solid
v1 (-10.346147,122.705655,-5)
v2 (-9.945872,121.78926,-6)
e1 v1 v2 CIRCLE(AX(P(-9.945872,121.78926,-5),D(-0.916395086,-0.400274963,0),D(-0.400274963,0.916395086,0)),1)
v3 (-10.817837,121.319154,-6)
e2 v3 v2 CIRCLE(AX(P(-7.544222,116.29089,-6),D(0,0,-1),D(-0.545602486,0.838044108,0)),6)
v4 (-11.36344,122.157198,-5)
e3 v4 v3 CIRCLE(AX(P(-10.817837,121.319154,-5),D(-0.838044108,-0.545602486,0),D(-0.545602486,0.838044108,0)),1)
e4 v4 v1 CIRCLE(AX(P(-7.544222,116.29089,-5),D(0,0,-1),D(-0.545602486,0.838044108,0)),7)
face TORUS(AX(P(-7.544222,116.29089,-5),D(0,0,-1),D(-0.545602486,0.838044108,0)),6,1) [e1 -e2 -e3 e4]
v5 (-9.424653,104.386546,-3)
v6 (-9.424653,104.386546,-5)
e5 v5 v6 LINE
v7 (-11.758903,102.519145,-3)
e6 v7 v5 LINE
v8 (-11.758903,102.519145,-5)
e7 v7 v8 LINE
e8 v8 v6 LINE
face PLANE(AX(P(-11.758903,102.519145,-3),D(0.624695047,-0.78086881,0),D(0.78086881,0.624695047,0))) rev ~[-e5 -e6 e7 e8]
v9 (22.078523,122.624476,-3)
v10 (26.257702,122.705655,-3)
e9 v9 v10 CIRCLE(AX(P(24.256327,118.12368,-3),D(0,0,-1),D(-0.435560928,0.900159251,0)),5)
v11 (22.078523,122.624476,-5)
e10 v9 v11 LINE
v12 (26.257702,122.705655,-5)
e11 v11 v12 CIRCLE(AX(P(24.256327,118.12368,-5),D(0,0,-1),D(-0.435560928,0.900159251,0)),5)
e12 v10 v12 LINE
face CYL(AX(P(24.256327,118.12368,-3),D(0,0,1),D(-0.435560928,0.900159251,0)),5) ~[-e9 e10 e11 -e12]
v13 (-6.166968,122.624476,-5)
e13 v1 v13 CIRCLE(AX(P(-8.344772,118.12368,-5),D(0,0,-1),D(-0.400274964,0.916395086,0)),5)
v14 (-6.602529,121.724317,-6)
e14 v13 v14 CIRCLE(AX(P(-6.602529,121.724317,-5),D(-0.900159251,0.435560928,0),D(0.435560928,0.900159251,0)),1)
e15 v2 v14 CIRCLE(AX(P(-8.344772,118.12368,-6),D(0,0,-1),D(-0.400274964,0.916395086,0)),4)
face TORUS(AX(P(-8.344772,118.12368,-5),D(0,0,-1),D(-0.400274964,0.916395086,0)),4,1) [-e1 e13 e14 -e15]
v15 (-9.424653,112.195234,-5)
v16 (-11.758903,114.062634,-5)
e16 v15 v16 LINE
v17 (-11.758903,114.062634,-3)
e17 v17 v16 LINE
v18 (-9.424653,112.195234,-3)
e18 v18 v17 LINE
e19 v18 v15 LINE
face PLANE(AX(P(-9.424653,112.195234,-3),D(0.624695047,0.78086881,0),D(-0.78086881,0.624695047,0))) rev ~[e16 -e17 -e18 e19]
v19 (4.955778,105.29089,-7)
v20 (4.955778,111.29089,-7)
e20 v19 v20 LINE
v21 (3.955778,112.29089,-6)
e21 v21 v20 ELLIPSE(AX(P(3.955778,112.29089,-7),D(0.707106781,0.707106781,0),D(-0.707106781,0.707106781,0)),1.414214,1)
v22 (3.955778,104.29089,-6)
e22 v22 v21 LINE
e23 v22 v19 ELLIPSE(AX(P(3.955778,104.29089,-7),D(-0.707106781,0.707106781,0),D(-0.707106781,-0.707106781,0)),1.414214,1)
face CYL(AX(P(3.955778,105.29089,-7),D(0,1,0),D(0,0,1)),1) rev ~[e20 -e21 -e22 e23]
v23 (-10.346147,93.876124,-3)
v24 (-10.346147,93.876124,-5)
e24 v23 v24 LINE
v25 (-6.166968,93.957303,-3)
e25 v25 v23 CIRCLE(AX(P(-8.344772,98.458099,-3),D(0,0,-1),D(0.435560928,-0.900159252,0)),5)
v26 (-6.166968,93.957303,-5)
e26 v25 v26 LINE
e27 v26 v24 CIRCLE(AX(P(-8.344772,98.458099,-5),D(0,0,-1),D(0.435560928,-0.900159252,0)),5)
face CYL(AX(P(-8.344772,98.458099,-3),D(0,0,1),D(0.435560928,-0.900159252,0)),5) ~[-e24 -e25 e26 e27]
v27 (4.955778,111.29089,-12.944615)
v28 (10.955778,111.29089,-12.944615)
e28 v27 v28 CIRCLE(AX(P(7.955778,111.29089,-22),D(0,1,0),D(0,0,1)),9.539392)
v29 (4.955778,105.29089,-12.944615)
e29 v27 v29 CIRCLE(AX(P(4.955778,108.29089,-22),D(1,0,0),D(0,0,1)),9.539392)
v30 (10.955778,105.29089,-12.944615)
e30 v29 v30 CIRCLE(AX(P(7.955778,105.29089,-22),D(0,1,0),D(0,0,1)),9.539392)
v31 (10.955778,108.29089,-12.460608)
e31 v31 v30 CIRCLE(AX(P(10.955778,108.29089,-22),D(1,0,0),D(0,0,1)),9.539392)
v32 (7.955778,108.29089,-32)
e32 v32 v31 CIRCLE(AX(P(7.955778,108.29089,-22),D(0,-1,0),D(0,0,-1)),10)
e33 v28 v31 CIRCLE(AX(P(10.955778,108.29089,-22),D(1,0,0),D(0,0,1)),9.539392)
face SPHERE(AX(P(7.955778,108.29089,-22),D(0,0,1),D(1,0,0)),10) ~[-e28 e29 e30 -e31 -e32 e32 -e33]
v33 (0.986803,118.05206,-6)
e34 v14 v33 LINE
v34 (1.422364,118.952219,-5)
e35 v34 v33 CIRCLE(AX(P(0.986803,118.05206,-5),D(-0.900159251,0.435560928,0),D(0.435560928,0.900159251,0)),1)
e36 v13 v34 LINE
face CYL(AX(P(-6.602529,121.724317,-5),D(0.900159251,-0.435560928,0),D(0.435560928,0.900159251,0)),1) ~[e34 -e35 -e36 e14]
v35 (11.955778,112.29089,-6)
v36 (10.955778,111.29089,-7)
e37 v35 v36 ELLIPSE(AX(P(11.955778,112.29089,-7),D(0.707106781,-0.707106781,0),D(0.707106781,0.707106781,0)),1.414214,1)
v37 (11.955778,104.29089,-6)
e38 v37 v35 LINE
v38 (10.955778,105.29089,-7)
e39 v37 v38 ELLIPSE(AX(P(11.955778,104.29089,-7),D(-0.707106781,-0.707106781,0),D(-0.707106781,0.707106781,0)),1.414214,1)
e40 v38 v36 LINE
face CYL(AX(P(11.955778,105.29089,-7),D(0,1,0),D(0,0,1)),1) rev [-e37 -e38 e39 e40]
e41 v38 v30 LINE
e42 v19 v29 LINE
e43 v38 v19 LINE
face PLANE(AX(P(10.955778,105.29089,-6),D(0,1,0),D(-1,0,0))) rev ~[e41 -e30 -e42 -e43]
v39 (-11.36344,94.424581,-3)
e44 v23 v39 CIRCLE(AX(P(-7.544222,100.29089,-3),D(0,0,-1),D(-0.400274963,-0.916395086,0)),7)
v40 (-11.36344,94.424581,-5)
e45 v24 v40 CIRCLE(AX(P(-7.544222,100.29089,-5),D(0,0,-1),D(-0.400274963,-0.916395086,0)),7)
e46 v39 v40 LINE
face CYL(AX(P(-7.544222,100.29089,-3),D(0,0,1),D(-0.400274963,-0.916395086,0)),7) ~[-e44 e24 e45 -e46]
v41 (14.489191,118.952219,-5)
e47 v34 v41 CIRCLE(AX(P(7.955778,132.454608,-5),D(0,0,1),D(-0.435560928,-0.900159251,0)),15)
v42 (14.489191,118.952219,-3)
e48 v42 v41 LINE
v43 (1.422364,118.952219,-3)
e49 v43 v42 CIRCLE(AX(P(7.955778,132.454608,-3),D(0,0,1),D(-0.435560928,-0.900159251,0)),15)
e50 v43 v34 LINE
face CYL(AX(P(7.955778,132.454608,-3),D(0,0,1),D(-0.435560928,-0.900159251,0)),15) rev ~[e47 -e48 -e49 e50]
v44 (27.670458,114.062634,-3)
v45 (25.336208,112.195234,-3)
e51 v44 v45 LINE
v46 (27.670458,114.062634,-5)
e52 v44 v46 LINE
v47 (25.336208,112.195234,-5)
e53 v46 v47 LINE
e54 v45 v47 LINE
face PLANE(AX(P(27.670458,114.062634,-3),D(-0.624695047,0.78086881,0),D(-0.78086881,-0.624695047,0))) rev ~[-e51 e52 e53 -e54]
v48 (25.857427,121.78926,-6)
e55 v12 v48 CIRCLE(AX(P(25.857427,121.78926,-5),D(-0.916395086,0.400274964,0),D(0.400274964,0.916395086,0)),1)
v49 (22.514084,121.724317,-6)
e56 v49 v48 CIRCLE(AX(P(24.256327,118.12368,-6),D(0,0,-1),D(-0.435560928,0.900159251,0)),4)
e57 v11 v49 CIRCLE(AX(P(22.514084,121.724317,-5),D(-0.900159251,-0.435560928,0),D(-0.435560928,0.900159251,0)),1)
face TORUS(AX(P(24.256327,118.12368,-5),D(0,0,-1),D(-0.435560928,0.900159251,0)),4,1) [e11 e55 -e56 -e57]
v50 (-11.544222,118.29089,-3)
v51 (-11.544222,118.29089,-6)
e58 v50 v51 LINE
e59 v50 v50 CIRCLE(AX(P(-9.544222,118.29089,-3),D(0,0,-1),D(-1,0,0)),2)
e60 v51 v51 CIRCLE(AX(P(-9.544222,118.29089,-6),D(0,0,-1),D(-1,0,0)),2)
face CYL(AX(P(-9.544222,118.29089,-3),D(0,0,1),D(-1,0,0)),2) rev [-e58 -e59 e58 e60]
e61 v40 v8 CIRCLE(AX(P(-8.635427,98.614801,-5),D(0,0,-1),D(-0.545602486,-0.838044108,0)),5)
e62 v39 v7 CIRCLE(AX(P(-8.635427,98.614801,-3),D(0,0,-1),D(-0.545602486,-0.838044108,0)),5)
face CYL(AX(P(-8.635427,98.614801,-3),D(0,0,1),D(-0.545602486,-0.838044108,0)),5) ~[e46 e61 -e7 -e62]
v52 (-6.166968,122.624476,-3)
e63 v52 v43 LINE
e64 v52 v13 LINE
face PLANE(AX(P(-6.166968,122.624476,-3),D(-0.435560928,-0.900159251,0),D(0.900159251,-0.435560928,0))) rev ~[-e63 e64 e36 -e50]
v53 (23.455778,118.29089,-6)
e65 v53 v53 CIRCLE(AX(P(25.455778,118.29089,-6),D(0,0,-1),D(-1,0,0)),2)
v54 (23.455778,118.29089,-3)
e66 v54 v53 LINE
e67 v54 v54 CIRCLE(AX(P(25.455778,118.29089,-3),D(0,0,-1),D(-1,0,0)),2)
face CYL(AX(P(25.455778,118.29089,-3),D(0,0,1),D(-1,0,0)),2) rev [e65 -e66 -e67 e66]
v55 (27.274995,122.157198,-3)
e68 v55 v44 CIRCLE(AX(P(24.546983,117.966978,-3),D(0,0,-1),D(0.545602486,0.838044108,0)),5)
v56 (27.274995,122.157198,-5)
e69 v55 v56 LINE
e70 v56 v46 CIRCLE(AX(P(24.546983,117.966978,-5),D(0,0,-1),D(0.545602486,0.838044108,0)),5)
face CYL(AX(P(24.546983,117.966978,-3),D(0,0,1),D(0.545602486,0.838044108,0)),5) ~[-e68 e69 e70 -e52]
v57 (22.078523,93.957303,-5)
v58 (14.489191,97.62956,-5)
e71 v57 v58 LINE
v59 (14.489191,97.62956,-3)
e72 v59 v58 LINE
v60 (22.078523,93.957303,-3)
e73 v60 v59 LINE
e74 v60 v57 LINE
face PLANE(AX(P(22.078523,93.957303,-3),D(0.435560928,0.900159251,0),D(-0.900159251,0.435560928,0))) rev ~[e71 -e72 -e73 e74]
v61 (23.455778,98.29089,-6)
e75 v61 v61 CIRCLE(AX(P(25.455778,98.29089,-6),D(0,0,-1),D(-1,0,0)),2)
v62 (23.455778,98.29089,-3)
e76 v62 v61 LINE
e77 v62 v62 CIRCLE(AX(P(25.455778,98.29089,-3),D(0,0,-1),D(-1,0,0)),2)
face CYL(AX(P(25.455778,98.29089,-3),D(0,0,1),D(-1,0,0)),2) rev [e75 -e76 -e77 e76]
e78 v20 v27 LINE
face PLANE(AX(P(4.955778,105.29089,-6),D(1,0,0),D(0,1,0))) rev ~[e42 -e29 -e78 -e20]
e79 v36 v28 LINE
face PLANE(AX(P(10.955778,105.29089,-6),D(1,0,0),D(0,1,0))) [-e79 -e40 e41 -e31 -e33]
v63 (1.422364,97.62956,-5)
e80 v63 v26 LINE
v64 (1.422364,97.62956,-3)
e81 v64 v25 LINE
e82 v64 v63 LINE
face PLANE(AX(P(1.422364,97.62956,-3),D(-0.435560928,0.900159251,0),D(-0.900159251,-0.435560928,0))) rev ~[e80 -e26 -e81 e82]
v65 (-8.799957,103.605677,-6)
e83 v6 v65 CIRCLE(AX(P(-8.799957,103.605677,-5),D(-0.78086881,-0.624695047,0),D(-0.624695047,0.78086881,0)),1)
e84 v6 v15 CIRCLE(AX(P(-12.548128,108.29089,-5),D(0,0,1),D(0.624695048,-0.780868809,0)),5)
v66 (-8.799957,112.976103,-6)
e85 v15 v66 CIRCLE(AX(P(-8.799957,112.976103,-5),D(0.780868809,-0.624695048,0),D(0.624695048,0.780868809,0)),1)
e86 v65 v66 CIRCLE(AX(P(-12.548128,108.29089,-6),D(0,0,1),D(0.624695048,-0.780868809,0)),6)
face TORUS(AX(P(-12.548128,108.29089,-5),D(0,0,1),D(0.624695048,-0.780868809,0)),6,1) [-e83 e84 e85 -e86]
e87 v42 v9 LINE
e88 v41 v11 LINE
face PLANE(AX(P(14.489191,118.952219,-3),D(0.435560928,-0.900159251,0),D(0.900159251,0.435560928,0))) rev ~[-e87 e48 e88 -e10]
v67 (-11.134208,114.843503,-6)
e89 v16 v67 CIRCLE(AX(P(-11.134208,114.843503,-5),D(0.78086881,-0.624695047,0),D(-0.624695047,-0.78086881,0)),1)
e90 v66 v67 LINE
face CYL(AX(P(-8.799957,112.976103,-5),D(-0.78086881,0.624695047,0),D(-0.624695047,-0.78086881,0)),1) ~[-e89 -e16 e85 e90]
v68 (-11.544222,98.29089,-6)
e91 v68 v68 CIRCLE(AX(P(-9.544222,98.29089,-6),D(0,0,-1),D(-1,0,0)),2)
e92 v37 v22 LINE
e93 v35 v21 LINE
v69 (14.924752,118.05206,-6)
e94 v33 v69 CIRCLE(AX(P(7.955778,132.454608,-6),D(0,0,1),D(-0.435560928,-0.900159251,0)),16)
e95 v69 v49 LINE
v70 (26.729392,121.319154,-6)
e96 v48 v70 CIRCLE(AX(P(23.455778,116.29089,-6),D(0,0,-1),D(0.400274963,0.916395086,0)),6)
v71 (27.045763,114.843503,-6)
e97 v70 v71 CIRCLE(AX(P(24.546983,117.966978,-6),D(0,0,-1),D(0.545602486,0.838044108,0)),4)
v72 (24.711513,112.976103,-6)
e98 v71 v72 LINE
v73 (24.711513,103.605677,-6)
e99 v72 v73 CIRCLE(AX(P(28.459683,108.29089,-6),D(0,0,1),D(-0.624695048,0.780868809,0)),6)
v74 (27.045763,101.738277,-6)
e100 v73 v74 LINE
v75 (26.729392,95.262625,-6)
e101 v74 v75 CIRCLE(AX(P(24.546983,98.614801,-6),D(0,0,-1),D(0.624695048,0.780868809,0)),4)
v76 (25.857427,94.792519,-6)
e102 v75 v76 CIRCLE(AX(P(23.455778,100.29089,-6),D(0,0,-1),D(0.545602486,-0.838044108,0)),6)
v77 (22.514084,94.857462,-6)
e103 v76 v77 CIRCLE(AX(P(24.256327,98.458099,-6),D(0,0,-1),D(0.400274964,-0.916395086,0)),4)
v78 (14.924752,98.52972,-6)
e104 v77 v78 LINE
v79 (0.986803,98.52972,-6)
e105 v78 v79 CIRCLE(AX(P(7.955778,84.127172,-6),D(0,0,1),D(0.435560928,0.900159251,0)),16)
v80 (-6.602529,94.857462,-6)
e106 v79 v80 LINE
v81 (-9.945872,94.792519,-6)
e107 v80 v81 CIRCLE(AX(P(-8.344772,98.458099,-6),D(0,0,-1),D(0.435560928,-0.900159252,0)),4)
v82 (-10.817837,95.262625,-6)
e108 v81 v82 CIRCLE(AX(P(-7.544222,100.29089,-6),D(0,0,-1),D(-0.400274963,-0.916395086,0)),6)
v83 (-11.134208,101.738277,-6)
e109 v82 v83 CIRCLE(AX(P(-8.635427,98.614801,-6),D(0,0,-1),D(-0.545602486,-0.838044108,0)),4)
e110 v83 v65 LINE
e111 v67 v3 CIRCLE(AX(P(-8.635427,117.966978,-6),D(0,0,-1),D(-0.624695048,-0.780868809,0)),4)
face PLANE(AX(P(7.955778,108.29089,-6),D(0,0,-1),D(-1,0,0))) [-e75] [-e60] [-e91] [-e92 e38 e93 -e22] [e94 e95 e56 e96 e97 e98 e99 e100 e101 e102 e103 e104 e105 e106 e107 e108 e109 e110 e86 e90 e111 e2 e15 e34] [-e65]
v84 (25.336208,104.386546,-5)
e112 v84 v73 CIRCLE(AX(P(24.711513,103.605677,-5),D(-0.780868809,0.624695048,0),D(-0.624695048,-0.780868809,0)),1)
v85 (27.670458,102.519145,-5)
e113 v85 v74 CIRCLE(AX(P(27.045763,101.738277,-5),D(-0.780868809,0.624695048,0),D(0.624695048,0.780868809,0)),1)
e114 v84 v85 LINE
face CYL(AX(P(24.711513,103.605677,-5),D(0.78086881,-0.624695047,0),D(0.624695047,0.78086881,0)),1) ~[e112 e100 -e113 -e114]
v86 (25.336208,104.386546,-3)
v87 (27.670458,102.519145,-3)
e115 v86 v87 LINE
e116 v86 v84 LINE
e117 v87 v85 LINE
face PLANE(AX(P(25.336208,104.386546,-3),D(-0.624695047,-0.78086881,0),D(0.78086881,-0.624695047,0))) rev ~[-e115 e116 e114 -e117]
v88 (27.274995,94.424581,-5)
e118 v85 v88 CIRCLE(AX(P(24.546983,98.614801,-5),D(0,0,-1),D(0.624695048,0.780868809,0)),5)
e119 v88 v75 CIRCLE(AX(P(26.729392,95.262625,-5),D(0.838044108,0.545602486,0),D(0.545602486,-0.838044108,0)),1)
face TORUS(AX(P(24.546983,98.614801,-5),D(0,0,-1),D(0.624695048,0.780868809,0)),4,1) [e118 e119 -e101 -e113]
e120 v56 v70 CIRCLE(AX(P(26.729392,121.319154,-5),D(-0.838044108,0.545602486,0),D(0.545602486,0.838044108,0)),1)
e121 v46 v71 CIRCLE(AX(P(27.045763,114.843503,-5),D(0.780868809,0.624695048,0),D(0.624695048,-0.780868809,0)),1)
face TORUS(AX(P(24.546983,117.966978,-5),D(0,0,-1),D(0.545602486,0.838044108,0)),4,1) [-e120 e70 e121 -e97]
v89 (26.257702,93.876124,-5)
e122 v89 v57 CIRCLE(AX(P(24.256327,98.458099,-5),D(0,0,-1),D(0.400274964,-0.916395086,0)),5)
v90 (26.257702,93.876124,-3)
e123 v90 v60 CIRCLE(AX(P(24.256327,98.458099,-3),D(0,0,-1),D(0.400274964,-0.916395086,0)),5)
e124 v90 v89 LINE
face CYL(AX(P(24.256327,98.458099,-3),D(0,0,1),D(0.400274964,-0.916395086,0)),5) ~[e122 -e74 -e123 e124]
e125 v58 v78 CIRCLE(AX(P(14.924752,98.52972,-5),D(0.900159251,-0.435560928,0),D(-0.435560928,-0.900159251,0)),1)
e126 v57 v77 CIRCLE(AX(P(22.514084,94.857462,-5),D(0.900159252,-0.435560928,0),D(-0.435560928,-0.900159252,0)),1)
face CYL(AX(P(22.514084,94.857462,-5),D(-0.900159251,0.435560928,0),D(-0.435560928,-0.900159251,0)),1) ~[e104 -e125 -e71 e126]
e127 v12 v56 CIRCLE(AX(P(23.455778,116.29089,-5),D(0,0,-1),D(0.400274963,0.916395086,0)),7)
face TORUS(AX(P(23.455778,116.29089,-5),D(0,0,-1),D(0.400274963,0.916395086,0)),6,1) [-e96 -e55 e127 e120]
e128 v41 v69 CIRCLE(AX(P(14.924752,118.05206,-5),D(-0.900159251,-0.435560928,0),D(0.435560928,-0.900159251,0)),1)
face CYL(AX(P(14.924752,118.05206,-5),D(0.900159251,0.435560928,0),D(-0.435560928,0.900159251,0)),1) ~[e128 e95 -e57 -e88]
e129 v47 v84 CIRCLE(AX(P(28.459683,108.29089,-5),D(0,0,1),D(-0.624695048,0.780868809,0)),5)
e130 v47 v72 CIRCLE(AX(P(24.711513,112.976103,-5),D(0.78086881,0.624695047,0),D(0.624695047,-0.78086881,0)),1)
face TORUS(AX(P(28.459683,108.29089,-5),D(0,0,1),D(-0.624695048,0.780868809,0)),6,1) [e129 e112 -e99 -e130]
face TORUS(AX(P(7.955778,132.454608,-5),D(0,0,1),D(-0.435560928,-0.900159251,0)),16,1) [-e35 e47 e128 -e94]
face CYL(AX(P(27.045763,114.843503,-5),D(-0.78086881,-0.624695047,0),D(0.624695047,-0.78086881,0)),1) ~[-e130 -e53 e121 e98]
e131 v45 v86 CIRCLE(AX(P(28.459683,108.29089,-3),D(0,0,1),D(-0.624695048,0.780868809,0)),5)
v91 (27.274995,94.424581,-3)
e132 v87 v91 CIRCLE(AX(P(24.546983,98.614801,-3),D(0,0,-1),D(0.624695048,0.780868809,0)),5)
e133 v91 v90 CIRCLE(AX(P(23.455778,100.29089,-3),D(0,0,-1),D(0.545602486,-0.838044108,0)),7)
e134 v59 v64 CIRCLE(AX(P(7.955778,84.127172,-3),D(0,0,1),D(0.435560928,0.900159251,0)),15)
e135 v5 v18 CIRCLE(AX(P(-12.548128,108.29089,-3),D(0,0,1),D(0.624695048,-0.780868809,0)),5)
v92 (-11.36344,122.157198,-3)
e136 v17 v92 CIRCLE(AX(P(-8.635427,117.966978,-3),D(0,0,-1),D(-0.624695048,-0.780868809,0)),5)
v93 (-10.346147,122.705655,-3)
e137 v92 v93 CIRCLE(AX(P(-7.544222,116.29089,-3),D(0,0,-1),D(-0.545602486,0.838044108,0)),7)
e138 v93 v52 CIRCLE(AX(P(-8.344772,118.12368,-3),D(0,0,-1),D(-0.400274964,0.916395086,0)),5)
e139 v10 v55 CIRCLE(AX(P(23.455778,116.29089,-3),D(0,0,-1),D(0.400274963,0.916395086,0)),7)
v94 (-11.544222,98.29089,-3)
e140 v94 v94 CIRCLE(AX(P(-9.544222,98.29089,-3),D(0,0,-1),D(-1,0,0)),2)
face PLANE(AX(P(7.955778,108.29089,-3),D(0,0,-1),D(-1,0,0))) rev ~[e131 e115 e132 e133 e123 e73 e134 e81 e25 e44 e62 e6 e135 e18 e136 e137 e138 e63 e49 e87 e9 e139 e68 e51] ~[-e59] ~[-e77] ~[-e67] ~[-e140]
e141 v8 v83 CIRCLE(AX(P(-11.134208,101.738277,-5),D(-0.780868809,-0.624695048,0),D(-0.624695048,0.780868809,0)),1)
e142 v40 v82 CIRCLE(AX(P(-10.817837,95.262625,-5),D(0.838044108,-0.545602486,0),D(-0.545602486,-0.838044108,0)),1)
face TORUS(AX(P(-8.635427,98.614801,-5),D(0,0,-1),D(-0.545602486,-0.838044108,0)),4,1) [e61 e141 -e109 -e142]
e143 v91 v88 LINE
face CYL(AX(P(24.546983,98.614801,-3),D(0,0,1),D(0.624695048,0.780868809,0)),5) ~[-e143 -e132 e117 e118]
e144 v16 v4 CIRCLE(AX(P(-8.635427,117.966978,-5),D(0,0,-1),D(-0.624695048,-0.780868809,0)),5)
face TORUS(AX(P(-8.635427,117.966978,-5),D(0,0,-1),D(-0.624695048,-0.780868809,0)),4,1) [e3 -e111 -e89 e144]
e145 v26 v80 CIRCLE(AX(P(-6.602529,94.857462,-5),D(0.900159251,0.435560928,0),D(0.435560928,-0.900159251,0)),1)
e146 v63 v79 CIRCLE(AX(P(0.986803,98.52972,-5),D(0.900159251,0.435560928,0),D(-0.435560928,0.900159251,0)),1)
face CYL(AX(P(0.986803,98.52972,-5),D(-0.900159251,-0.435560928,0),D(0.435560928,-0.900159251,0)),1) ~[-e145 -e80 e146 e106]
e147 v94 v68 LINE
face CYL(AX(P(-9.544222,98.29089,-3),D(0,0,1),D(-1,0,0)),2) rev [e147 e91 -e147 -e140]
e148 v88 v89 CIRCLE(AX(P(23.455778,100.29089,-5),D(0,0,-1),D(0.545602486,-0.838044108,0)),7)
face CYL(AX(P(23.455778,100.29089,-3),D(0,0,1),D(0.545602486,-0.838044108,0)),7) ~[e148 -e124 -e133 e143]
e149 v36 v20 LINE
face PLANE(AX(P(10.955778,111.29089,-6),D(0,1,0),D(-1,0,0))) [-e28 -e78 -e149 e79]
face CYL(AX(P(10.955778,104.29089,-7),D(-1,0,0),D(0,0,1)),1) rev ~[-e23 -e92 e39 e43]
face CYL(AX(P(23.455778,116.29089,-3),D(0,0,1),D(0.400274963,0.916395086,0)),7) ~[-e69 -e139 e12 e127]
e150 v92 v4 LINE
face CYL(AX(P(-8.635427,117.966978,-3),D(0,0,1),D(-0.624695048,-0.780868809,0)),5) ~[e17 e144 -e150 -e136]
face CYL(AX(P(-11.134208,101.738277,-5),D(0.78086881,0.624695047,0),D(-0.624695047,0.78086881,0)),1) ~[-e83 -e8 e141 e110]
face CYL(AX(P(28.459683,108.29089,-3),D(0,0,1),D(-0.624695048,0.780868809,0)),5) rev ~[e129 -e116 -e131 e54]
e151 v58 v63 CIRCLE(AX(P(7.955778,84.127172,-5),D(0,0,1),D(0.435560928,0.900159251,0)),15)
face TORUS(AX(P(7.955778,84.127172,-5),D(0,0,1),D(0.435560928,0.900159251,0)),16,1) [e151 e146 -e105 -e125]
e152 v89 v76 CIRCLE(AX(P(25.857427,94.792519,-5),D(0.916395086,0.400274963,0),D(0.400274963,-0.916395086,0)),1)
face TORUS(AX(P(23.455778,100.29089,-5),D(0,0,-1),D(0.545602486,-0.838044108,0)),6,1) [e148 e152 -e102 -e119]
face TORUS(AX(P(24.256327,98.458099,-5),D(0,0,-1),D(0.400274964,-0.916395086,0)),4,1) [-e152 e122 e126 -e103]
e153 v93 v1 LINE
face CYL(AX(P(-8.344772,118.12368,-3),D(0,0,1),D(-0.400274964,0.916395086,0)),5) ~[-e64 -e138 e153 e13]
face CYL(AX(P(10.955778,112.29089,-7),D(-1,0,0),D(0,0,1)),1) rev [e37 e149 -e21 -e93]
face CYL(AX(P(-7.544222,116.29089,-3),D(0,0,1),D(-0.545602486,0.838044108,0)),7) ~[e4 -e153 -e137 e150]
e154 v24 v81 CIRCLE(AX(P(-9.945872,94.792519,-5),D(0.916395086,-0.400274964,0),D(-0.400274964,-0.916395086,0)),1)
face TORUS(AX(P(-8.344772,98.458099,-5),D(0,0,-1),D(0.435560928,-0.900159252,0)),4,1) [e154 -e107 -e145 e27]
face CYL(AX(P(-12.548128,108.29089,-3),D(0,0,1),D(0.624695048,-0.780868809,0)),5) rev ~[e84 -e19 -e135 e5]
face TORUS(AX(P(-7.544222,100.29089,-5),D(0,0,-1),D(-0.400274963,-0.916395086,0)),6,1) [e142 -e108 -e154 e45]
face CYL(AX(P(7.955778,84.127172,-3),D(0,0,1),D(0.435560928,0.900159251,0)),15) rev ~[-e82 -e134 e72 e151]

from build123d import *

# Parameters (mm, degrees)
SKETCH1_R           = 2
BOSS_EXTRUDE1_DEPTH = 3
FILLET1_R           = 1
SKETCH2_W           = 6
SKETCH2_H           = 6
BOSS_EXTRUDE2_DEPTH = 13
FILLET4_R           = 1


with BuildPart() as part:
    # Sketch1 → Boss-Extrude1 (new body)
    with BuildSketch(Plane(origin=(0, 0, -3), x_dir=(-1, 0, 0), z_dir=(0, 0, -1))):
        with BuildLine():
            Line((-22.078522838, 93.957303237), (-14.489191473, 97.629560349))
            ThreePointArc((-14.489191473, 97.629560349), (-7.955777551, 99.127171578), (-1.42236363, 97.629560349))
            Line((-1.42236363, 97.629560349), (6.166967735, 93.957303237))
            ThreePointArc((6.166967735, 93.957303237), (8.247667355, 93.459042522), (10.346147194, 93.876124065))
            ThreePointArc((10.346147194, 93.876124065), (10.86613185, 94.129321852), (11.363439854, 94.424580911))
            ThreePointArc((11.363439854, 94.424580911), (13.629470969, 98.370815693), (11.75890266, 102.519145498))
            Line((11.75890266, 102.519145498), (9.424652508, 104.386545619))
            ThreePointArc((9.424652508, 104.386545619), (7.548127746, 108.290889666), (9.424652508, 112.195233714))
            Line((9.424652508, 112.195233714), (11.75890266, 114.062633835))
            ThreePointArc((11.75890266, 114.062633835), (13.629470969, 118.21096364), (11.363439854, 122.157198422))
            ThreePointArc((11.363439854, 122.157198422), (10.86613185, 122.452457481), (10.346147194, 122.705655268))
            ThreePointArc((10.346147194, 122.705655268), (8.247667355, 123.122736811), (6.166967735, 122.624476095))
            Line((6.166967735, 122.624476095), (-1.42236363, 118.952218983))
            ThreePointArc((-1.42236363, 118.952218983), (-7.955777551, 117.454607754), (-14.489191473, 118.952218983))
            Line((-14.489191473, 118.952218983), (-22.078522838, 122.624476095))
            ThreePointArc((-22.078522838, 122.624476095), (-24.159222457, 123.122736811), (-26.257702296, 122.705655268))
            ThreePointArc((-26.257702296, 122.705655268), (-26.777686952, 122.452457481), (-27.274994956, 122.157198422))
            ThreePointArc((-27.274994956, 122.157198422), (-29.541026071, 118.21096364), (-27.670457762, 114.062633835))
            Line((-27.670457762, 114.062633835), (-25.33620761, 112.195233714))
            ThreePointArc((-25.33620761, 112.195233714), (-23.459682848, 108.290889666), (-25.33620761, 104.386545619))
            Line((-25.33620761, 104.386545619), (-27.670457762, 102.519145498))
            ThreePointArc((-27.670457762, 102.519145498), (-29.541026071, 98.370815693), (-27.274994956, 94.424580911))
            ThreePointArc((-27.274994956, 94.424580911), (-26.777686952, 94.129321852), (-26.257702296, 93.876124065))
            ThreePointArc((-26.257702296, 93.876124065), (-24.159222457, 93.459042522), (-22.078522838, 93.957303237))
        make_face()
        with Locations((-25.455777551, 118.290889666)):
            Circle(SKETCH1_R, mode=Mode.SUBTRACT)
        with Locations((9.544222449, 118.290889666)):
            Circle(SKETCH1_R, mode=Mode.SUBTRACT)
        with Locations((-25.455777551, 98.290889666)):
            Circle(SKETCH1_R, mode=Mode.SUBTRACT)
        with Locations((9.544222449, 98.290889666)):
            Circle(SKETCH1_R, mode=Mode.SUBTRACT)
    extrude(amount=BOSS_EXTRUDE1_DEPTH)

    # Fillet1
    fillet1_edges = [part.edges().sort_by_distance(p)[0] for p in [
        (18.283857155, 95.793431793, -6),
        (7.955777551, 99.127171578, -6),
    ]]
    fillet(fillet1_edges, radius=FILLET1_R)

    # Sketch2 → Boss-Extrude2 (add)
    with BuildSketch(Plane(origin=(0, 0, -6), x_dir=(-1, 0, 0), z_dir=(0, 0, -1))):
        with Locations((-7.955777551, 108.290889666)):
            Rectangle(SKETCH2_W, SKETCH2_H)
    extrude(amount=BOSS_EXTRUDE2_DEPTH)

    # Fillet4
    fillet4_edges = [part.edges().sort_by_distance(p)[0] for p in [
        (7.955777551, 105.290889666, -6),
        (10.955777551, 108.290889666, -6),
        (7.955777551, 111.290889666, -6),
        (4.955777551, 108.290889666, -6),
    ]]
    fillet(fillet4_edges, radius=FILLET4_R)

    # Sketch4 → Revolve2 (revolve)
    with BuildSketch(Plane(origin=(0, 108.290889666, 0), x_dir=(0, 0, -1), z_dir=(0, 1, 0))):
        with BuildLine():
            Line((12, -7.955777551), (32, -7.955777551))
            ThreePointArc((32, -7.955777551), (22, -17.955777551), (12, -7.955777551))
        make_face()
    revolve(axis=Axis((7.955777551, 108.290889666, -12), (0, 0, -1)))


solid = part.part
